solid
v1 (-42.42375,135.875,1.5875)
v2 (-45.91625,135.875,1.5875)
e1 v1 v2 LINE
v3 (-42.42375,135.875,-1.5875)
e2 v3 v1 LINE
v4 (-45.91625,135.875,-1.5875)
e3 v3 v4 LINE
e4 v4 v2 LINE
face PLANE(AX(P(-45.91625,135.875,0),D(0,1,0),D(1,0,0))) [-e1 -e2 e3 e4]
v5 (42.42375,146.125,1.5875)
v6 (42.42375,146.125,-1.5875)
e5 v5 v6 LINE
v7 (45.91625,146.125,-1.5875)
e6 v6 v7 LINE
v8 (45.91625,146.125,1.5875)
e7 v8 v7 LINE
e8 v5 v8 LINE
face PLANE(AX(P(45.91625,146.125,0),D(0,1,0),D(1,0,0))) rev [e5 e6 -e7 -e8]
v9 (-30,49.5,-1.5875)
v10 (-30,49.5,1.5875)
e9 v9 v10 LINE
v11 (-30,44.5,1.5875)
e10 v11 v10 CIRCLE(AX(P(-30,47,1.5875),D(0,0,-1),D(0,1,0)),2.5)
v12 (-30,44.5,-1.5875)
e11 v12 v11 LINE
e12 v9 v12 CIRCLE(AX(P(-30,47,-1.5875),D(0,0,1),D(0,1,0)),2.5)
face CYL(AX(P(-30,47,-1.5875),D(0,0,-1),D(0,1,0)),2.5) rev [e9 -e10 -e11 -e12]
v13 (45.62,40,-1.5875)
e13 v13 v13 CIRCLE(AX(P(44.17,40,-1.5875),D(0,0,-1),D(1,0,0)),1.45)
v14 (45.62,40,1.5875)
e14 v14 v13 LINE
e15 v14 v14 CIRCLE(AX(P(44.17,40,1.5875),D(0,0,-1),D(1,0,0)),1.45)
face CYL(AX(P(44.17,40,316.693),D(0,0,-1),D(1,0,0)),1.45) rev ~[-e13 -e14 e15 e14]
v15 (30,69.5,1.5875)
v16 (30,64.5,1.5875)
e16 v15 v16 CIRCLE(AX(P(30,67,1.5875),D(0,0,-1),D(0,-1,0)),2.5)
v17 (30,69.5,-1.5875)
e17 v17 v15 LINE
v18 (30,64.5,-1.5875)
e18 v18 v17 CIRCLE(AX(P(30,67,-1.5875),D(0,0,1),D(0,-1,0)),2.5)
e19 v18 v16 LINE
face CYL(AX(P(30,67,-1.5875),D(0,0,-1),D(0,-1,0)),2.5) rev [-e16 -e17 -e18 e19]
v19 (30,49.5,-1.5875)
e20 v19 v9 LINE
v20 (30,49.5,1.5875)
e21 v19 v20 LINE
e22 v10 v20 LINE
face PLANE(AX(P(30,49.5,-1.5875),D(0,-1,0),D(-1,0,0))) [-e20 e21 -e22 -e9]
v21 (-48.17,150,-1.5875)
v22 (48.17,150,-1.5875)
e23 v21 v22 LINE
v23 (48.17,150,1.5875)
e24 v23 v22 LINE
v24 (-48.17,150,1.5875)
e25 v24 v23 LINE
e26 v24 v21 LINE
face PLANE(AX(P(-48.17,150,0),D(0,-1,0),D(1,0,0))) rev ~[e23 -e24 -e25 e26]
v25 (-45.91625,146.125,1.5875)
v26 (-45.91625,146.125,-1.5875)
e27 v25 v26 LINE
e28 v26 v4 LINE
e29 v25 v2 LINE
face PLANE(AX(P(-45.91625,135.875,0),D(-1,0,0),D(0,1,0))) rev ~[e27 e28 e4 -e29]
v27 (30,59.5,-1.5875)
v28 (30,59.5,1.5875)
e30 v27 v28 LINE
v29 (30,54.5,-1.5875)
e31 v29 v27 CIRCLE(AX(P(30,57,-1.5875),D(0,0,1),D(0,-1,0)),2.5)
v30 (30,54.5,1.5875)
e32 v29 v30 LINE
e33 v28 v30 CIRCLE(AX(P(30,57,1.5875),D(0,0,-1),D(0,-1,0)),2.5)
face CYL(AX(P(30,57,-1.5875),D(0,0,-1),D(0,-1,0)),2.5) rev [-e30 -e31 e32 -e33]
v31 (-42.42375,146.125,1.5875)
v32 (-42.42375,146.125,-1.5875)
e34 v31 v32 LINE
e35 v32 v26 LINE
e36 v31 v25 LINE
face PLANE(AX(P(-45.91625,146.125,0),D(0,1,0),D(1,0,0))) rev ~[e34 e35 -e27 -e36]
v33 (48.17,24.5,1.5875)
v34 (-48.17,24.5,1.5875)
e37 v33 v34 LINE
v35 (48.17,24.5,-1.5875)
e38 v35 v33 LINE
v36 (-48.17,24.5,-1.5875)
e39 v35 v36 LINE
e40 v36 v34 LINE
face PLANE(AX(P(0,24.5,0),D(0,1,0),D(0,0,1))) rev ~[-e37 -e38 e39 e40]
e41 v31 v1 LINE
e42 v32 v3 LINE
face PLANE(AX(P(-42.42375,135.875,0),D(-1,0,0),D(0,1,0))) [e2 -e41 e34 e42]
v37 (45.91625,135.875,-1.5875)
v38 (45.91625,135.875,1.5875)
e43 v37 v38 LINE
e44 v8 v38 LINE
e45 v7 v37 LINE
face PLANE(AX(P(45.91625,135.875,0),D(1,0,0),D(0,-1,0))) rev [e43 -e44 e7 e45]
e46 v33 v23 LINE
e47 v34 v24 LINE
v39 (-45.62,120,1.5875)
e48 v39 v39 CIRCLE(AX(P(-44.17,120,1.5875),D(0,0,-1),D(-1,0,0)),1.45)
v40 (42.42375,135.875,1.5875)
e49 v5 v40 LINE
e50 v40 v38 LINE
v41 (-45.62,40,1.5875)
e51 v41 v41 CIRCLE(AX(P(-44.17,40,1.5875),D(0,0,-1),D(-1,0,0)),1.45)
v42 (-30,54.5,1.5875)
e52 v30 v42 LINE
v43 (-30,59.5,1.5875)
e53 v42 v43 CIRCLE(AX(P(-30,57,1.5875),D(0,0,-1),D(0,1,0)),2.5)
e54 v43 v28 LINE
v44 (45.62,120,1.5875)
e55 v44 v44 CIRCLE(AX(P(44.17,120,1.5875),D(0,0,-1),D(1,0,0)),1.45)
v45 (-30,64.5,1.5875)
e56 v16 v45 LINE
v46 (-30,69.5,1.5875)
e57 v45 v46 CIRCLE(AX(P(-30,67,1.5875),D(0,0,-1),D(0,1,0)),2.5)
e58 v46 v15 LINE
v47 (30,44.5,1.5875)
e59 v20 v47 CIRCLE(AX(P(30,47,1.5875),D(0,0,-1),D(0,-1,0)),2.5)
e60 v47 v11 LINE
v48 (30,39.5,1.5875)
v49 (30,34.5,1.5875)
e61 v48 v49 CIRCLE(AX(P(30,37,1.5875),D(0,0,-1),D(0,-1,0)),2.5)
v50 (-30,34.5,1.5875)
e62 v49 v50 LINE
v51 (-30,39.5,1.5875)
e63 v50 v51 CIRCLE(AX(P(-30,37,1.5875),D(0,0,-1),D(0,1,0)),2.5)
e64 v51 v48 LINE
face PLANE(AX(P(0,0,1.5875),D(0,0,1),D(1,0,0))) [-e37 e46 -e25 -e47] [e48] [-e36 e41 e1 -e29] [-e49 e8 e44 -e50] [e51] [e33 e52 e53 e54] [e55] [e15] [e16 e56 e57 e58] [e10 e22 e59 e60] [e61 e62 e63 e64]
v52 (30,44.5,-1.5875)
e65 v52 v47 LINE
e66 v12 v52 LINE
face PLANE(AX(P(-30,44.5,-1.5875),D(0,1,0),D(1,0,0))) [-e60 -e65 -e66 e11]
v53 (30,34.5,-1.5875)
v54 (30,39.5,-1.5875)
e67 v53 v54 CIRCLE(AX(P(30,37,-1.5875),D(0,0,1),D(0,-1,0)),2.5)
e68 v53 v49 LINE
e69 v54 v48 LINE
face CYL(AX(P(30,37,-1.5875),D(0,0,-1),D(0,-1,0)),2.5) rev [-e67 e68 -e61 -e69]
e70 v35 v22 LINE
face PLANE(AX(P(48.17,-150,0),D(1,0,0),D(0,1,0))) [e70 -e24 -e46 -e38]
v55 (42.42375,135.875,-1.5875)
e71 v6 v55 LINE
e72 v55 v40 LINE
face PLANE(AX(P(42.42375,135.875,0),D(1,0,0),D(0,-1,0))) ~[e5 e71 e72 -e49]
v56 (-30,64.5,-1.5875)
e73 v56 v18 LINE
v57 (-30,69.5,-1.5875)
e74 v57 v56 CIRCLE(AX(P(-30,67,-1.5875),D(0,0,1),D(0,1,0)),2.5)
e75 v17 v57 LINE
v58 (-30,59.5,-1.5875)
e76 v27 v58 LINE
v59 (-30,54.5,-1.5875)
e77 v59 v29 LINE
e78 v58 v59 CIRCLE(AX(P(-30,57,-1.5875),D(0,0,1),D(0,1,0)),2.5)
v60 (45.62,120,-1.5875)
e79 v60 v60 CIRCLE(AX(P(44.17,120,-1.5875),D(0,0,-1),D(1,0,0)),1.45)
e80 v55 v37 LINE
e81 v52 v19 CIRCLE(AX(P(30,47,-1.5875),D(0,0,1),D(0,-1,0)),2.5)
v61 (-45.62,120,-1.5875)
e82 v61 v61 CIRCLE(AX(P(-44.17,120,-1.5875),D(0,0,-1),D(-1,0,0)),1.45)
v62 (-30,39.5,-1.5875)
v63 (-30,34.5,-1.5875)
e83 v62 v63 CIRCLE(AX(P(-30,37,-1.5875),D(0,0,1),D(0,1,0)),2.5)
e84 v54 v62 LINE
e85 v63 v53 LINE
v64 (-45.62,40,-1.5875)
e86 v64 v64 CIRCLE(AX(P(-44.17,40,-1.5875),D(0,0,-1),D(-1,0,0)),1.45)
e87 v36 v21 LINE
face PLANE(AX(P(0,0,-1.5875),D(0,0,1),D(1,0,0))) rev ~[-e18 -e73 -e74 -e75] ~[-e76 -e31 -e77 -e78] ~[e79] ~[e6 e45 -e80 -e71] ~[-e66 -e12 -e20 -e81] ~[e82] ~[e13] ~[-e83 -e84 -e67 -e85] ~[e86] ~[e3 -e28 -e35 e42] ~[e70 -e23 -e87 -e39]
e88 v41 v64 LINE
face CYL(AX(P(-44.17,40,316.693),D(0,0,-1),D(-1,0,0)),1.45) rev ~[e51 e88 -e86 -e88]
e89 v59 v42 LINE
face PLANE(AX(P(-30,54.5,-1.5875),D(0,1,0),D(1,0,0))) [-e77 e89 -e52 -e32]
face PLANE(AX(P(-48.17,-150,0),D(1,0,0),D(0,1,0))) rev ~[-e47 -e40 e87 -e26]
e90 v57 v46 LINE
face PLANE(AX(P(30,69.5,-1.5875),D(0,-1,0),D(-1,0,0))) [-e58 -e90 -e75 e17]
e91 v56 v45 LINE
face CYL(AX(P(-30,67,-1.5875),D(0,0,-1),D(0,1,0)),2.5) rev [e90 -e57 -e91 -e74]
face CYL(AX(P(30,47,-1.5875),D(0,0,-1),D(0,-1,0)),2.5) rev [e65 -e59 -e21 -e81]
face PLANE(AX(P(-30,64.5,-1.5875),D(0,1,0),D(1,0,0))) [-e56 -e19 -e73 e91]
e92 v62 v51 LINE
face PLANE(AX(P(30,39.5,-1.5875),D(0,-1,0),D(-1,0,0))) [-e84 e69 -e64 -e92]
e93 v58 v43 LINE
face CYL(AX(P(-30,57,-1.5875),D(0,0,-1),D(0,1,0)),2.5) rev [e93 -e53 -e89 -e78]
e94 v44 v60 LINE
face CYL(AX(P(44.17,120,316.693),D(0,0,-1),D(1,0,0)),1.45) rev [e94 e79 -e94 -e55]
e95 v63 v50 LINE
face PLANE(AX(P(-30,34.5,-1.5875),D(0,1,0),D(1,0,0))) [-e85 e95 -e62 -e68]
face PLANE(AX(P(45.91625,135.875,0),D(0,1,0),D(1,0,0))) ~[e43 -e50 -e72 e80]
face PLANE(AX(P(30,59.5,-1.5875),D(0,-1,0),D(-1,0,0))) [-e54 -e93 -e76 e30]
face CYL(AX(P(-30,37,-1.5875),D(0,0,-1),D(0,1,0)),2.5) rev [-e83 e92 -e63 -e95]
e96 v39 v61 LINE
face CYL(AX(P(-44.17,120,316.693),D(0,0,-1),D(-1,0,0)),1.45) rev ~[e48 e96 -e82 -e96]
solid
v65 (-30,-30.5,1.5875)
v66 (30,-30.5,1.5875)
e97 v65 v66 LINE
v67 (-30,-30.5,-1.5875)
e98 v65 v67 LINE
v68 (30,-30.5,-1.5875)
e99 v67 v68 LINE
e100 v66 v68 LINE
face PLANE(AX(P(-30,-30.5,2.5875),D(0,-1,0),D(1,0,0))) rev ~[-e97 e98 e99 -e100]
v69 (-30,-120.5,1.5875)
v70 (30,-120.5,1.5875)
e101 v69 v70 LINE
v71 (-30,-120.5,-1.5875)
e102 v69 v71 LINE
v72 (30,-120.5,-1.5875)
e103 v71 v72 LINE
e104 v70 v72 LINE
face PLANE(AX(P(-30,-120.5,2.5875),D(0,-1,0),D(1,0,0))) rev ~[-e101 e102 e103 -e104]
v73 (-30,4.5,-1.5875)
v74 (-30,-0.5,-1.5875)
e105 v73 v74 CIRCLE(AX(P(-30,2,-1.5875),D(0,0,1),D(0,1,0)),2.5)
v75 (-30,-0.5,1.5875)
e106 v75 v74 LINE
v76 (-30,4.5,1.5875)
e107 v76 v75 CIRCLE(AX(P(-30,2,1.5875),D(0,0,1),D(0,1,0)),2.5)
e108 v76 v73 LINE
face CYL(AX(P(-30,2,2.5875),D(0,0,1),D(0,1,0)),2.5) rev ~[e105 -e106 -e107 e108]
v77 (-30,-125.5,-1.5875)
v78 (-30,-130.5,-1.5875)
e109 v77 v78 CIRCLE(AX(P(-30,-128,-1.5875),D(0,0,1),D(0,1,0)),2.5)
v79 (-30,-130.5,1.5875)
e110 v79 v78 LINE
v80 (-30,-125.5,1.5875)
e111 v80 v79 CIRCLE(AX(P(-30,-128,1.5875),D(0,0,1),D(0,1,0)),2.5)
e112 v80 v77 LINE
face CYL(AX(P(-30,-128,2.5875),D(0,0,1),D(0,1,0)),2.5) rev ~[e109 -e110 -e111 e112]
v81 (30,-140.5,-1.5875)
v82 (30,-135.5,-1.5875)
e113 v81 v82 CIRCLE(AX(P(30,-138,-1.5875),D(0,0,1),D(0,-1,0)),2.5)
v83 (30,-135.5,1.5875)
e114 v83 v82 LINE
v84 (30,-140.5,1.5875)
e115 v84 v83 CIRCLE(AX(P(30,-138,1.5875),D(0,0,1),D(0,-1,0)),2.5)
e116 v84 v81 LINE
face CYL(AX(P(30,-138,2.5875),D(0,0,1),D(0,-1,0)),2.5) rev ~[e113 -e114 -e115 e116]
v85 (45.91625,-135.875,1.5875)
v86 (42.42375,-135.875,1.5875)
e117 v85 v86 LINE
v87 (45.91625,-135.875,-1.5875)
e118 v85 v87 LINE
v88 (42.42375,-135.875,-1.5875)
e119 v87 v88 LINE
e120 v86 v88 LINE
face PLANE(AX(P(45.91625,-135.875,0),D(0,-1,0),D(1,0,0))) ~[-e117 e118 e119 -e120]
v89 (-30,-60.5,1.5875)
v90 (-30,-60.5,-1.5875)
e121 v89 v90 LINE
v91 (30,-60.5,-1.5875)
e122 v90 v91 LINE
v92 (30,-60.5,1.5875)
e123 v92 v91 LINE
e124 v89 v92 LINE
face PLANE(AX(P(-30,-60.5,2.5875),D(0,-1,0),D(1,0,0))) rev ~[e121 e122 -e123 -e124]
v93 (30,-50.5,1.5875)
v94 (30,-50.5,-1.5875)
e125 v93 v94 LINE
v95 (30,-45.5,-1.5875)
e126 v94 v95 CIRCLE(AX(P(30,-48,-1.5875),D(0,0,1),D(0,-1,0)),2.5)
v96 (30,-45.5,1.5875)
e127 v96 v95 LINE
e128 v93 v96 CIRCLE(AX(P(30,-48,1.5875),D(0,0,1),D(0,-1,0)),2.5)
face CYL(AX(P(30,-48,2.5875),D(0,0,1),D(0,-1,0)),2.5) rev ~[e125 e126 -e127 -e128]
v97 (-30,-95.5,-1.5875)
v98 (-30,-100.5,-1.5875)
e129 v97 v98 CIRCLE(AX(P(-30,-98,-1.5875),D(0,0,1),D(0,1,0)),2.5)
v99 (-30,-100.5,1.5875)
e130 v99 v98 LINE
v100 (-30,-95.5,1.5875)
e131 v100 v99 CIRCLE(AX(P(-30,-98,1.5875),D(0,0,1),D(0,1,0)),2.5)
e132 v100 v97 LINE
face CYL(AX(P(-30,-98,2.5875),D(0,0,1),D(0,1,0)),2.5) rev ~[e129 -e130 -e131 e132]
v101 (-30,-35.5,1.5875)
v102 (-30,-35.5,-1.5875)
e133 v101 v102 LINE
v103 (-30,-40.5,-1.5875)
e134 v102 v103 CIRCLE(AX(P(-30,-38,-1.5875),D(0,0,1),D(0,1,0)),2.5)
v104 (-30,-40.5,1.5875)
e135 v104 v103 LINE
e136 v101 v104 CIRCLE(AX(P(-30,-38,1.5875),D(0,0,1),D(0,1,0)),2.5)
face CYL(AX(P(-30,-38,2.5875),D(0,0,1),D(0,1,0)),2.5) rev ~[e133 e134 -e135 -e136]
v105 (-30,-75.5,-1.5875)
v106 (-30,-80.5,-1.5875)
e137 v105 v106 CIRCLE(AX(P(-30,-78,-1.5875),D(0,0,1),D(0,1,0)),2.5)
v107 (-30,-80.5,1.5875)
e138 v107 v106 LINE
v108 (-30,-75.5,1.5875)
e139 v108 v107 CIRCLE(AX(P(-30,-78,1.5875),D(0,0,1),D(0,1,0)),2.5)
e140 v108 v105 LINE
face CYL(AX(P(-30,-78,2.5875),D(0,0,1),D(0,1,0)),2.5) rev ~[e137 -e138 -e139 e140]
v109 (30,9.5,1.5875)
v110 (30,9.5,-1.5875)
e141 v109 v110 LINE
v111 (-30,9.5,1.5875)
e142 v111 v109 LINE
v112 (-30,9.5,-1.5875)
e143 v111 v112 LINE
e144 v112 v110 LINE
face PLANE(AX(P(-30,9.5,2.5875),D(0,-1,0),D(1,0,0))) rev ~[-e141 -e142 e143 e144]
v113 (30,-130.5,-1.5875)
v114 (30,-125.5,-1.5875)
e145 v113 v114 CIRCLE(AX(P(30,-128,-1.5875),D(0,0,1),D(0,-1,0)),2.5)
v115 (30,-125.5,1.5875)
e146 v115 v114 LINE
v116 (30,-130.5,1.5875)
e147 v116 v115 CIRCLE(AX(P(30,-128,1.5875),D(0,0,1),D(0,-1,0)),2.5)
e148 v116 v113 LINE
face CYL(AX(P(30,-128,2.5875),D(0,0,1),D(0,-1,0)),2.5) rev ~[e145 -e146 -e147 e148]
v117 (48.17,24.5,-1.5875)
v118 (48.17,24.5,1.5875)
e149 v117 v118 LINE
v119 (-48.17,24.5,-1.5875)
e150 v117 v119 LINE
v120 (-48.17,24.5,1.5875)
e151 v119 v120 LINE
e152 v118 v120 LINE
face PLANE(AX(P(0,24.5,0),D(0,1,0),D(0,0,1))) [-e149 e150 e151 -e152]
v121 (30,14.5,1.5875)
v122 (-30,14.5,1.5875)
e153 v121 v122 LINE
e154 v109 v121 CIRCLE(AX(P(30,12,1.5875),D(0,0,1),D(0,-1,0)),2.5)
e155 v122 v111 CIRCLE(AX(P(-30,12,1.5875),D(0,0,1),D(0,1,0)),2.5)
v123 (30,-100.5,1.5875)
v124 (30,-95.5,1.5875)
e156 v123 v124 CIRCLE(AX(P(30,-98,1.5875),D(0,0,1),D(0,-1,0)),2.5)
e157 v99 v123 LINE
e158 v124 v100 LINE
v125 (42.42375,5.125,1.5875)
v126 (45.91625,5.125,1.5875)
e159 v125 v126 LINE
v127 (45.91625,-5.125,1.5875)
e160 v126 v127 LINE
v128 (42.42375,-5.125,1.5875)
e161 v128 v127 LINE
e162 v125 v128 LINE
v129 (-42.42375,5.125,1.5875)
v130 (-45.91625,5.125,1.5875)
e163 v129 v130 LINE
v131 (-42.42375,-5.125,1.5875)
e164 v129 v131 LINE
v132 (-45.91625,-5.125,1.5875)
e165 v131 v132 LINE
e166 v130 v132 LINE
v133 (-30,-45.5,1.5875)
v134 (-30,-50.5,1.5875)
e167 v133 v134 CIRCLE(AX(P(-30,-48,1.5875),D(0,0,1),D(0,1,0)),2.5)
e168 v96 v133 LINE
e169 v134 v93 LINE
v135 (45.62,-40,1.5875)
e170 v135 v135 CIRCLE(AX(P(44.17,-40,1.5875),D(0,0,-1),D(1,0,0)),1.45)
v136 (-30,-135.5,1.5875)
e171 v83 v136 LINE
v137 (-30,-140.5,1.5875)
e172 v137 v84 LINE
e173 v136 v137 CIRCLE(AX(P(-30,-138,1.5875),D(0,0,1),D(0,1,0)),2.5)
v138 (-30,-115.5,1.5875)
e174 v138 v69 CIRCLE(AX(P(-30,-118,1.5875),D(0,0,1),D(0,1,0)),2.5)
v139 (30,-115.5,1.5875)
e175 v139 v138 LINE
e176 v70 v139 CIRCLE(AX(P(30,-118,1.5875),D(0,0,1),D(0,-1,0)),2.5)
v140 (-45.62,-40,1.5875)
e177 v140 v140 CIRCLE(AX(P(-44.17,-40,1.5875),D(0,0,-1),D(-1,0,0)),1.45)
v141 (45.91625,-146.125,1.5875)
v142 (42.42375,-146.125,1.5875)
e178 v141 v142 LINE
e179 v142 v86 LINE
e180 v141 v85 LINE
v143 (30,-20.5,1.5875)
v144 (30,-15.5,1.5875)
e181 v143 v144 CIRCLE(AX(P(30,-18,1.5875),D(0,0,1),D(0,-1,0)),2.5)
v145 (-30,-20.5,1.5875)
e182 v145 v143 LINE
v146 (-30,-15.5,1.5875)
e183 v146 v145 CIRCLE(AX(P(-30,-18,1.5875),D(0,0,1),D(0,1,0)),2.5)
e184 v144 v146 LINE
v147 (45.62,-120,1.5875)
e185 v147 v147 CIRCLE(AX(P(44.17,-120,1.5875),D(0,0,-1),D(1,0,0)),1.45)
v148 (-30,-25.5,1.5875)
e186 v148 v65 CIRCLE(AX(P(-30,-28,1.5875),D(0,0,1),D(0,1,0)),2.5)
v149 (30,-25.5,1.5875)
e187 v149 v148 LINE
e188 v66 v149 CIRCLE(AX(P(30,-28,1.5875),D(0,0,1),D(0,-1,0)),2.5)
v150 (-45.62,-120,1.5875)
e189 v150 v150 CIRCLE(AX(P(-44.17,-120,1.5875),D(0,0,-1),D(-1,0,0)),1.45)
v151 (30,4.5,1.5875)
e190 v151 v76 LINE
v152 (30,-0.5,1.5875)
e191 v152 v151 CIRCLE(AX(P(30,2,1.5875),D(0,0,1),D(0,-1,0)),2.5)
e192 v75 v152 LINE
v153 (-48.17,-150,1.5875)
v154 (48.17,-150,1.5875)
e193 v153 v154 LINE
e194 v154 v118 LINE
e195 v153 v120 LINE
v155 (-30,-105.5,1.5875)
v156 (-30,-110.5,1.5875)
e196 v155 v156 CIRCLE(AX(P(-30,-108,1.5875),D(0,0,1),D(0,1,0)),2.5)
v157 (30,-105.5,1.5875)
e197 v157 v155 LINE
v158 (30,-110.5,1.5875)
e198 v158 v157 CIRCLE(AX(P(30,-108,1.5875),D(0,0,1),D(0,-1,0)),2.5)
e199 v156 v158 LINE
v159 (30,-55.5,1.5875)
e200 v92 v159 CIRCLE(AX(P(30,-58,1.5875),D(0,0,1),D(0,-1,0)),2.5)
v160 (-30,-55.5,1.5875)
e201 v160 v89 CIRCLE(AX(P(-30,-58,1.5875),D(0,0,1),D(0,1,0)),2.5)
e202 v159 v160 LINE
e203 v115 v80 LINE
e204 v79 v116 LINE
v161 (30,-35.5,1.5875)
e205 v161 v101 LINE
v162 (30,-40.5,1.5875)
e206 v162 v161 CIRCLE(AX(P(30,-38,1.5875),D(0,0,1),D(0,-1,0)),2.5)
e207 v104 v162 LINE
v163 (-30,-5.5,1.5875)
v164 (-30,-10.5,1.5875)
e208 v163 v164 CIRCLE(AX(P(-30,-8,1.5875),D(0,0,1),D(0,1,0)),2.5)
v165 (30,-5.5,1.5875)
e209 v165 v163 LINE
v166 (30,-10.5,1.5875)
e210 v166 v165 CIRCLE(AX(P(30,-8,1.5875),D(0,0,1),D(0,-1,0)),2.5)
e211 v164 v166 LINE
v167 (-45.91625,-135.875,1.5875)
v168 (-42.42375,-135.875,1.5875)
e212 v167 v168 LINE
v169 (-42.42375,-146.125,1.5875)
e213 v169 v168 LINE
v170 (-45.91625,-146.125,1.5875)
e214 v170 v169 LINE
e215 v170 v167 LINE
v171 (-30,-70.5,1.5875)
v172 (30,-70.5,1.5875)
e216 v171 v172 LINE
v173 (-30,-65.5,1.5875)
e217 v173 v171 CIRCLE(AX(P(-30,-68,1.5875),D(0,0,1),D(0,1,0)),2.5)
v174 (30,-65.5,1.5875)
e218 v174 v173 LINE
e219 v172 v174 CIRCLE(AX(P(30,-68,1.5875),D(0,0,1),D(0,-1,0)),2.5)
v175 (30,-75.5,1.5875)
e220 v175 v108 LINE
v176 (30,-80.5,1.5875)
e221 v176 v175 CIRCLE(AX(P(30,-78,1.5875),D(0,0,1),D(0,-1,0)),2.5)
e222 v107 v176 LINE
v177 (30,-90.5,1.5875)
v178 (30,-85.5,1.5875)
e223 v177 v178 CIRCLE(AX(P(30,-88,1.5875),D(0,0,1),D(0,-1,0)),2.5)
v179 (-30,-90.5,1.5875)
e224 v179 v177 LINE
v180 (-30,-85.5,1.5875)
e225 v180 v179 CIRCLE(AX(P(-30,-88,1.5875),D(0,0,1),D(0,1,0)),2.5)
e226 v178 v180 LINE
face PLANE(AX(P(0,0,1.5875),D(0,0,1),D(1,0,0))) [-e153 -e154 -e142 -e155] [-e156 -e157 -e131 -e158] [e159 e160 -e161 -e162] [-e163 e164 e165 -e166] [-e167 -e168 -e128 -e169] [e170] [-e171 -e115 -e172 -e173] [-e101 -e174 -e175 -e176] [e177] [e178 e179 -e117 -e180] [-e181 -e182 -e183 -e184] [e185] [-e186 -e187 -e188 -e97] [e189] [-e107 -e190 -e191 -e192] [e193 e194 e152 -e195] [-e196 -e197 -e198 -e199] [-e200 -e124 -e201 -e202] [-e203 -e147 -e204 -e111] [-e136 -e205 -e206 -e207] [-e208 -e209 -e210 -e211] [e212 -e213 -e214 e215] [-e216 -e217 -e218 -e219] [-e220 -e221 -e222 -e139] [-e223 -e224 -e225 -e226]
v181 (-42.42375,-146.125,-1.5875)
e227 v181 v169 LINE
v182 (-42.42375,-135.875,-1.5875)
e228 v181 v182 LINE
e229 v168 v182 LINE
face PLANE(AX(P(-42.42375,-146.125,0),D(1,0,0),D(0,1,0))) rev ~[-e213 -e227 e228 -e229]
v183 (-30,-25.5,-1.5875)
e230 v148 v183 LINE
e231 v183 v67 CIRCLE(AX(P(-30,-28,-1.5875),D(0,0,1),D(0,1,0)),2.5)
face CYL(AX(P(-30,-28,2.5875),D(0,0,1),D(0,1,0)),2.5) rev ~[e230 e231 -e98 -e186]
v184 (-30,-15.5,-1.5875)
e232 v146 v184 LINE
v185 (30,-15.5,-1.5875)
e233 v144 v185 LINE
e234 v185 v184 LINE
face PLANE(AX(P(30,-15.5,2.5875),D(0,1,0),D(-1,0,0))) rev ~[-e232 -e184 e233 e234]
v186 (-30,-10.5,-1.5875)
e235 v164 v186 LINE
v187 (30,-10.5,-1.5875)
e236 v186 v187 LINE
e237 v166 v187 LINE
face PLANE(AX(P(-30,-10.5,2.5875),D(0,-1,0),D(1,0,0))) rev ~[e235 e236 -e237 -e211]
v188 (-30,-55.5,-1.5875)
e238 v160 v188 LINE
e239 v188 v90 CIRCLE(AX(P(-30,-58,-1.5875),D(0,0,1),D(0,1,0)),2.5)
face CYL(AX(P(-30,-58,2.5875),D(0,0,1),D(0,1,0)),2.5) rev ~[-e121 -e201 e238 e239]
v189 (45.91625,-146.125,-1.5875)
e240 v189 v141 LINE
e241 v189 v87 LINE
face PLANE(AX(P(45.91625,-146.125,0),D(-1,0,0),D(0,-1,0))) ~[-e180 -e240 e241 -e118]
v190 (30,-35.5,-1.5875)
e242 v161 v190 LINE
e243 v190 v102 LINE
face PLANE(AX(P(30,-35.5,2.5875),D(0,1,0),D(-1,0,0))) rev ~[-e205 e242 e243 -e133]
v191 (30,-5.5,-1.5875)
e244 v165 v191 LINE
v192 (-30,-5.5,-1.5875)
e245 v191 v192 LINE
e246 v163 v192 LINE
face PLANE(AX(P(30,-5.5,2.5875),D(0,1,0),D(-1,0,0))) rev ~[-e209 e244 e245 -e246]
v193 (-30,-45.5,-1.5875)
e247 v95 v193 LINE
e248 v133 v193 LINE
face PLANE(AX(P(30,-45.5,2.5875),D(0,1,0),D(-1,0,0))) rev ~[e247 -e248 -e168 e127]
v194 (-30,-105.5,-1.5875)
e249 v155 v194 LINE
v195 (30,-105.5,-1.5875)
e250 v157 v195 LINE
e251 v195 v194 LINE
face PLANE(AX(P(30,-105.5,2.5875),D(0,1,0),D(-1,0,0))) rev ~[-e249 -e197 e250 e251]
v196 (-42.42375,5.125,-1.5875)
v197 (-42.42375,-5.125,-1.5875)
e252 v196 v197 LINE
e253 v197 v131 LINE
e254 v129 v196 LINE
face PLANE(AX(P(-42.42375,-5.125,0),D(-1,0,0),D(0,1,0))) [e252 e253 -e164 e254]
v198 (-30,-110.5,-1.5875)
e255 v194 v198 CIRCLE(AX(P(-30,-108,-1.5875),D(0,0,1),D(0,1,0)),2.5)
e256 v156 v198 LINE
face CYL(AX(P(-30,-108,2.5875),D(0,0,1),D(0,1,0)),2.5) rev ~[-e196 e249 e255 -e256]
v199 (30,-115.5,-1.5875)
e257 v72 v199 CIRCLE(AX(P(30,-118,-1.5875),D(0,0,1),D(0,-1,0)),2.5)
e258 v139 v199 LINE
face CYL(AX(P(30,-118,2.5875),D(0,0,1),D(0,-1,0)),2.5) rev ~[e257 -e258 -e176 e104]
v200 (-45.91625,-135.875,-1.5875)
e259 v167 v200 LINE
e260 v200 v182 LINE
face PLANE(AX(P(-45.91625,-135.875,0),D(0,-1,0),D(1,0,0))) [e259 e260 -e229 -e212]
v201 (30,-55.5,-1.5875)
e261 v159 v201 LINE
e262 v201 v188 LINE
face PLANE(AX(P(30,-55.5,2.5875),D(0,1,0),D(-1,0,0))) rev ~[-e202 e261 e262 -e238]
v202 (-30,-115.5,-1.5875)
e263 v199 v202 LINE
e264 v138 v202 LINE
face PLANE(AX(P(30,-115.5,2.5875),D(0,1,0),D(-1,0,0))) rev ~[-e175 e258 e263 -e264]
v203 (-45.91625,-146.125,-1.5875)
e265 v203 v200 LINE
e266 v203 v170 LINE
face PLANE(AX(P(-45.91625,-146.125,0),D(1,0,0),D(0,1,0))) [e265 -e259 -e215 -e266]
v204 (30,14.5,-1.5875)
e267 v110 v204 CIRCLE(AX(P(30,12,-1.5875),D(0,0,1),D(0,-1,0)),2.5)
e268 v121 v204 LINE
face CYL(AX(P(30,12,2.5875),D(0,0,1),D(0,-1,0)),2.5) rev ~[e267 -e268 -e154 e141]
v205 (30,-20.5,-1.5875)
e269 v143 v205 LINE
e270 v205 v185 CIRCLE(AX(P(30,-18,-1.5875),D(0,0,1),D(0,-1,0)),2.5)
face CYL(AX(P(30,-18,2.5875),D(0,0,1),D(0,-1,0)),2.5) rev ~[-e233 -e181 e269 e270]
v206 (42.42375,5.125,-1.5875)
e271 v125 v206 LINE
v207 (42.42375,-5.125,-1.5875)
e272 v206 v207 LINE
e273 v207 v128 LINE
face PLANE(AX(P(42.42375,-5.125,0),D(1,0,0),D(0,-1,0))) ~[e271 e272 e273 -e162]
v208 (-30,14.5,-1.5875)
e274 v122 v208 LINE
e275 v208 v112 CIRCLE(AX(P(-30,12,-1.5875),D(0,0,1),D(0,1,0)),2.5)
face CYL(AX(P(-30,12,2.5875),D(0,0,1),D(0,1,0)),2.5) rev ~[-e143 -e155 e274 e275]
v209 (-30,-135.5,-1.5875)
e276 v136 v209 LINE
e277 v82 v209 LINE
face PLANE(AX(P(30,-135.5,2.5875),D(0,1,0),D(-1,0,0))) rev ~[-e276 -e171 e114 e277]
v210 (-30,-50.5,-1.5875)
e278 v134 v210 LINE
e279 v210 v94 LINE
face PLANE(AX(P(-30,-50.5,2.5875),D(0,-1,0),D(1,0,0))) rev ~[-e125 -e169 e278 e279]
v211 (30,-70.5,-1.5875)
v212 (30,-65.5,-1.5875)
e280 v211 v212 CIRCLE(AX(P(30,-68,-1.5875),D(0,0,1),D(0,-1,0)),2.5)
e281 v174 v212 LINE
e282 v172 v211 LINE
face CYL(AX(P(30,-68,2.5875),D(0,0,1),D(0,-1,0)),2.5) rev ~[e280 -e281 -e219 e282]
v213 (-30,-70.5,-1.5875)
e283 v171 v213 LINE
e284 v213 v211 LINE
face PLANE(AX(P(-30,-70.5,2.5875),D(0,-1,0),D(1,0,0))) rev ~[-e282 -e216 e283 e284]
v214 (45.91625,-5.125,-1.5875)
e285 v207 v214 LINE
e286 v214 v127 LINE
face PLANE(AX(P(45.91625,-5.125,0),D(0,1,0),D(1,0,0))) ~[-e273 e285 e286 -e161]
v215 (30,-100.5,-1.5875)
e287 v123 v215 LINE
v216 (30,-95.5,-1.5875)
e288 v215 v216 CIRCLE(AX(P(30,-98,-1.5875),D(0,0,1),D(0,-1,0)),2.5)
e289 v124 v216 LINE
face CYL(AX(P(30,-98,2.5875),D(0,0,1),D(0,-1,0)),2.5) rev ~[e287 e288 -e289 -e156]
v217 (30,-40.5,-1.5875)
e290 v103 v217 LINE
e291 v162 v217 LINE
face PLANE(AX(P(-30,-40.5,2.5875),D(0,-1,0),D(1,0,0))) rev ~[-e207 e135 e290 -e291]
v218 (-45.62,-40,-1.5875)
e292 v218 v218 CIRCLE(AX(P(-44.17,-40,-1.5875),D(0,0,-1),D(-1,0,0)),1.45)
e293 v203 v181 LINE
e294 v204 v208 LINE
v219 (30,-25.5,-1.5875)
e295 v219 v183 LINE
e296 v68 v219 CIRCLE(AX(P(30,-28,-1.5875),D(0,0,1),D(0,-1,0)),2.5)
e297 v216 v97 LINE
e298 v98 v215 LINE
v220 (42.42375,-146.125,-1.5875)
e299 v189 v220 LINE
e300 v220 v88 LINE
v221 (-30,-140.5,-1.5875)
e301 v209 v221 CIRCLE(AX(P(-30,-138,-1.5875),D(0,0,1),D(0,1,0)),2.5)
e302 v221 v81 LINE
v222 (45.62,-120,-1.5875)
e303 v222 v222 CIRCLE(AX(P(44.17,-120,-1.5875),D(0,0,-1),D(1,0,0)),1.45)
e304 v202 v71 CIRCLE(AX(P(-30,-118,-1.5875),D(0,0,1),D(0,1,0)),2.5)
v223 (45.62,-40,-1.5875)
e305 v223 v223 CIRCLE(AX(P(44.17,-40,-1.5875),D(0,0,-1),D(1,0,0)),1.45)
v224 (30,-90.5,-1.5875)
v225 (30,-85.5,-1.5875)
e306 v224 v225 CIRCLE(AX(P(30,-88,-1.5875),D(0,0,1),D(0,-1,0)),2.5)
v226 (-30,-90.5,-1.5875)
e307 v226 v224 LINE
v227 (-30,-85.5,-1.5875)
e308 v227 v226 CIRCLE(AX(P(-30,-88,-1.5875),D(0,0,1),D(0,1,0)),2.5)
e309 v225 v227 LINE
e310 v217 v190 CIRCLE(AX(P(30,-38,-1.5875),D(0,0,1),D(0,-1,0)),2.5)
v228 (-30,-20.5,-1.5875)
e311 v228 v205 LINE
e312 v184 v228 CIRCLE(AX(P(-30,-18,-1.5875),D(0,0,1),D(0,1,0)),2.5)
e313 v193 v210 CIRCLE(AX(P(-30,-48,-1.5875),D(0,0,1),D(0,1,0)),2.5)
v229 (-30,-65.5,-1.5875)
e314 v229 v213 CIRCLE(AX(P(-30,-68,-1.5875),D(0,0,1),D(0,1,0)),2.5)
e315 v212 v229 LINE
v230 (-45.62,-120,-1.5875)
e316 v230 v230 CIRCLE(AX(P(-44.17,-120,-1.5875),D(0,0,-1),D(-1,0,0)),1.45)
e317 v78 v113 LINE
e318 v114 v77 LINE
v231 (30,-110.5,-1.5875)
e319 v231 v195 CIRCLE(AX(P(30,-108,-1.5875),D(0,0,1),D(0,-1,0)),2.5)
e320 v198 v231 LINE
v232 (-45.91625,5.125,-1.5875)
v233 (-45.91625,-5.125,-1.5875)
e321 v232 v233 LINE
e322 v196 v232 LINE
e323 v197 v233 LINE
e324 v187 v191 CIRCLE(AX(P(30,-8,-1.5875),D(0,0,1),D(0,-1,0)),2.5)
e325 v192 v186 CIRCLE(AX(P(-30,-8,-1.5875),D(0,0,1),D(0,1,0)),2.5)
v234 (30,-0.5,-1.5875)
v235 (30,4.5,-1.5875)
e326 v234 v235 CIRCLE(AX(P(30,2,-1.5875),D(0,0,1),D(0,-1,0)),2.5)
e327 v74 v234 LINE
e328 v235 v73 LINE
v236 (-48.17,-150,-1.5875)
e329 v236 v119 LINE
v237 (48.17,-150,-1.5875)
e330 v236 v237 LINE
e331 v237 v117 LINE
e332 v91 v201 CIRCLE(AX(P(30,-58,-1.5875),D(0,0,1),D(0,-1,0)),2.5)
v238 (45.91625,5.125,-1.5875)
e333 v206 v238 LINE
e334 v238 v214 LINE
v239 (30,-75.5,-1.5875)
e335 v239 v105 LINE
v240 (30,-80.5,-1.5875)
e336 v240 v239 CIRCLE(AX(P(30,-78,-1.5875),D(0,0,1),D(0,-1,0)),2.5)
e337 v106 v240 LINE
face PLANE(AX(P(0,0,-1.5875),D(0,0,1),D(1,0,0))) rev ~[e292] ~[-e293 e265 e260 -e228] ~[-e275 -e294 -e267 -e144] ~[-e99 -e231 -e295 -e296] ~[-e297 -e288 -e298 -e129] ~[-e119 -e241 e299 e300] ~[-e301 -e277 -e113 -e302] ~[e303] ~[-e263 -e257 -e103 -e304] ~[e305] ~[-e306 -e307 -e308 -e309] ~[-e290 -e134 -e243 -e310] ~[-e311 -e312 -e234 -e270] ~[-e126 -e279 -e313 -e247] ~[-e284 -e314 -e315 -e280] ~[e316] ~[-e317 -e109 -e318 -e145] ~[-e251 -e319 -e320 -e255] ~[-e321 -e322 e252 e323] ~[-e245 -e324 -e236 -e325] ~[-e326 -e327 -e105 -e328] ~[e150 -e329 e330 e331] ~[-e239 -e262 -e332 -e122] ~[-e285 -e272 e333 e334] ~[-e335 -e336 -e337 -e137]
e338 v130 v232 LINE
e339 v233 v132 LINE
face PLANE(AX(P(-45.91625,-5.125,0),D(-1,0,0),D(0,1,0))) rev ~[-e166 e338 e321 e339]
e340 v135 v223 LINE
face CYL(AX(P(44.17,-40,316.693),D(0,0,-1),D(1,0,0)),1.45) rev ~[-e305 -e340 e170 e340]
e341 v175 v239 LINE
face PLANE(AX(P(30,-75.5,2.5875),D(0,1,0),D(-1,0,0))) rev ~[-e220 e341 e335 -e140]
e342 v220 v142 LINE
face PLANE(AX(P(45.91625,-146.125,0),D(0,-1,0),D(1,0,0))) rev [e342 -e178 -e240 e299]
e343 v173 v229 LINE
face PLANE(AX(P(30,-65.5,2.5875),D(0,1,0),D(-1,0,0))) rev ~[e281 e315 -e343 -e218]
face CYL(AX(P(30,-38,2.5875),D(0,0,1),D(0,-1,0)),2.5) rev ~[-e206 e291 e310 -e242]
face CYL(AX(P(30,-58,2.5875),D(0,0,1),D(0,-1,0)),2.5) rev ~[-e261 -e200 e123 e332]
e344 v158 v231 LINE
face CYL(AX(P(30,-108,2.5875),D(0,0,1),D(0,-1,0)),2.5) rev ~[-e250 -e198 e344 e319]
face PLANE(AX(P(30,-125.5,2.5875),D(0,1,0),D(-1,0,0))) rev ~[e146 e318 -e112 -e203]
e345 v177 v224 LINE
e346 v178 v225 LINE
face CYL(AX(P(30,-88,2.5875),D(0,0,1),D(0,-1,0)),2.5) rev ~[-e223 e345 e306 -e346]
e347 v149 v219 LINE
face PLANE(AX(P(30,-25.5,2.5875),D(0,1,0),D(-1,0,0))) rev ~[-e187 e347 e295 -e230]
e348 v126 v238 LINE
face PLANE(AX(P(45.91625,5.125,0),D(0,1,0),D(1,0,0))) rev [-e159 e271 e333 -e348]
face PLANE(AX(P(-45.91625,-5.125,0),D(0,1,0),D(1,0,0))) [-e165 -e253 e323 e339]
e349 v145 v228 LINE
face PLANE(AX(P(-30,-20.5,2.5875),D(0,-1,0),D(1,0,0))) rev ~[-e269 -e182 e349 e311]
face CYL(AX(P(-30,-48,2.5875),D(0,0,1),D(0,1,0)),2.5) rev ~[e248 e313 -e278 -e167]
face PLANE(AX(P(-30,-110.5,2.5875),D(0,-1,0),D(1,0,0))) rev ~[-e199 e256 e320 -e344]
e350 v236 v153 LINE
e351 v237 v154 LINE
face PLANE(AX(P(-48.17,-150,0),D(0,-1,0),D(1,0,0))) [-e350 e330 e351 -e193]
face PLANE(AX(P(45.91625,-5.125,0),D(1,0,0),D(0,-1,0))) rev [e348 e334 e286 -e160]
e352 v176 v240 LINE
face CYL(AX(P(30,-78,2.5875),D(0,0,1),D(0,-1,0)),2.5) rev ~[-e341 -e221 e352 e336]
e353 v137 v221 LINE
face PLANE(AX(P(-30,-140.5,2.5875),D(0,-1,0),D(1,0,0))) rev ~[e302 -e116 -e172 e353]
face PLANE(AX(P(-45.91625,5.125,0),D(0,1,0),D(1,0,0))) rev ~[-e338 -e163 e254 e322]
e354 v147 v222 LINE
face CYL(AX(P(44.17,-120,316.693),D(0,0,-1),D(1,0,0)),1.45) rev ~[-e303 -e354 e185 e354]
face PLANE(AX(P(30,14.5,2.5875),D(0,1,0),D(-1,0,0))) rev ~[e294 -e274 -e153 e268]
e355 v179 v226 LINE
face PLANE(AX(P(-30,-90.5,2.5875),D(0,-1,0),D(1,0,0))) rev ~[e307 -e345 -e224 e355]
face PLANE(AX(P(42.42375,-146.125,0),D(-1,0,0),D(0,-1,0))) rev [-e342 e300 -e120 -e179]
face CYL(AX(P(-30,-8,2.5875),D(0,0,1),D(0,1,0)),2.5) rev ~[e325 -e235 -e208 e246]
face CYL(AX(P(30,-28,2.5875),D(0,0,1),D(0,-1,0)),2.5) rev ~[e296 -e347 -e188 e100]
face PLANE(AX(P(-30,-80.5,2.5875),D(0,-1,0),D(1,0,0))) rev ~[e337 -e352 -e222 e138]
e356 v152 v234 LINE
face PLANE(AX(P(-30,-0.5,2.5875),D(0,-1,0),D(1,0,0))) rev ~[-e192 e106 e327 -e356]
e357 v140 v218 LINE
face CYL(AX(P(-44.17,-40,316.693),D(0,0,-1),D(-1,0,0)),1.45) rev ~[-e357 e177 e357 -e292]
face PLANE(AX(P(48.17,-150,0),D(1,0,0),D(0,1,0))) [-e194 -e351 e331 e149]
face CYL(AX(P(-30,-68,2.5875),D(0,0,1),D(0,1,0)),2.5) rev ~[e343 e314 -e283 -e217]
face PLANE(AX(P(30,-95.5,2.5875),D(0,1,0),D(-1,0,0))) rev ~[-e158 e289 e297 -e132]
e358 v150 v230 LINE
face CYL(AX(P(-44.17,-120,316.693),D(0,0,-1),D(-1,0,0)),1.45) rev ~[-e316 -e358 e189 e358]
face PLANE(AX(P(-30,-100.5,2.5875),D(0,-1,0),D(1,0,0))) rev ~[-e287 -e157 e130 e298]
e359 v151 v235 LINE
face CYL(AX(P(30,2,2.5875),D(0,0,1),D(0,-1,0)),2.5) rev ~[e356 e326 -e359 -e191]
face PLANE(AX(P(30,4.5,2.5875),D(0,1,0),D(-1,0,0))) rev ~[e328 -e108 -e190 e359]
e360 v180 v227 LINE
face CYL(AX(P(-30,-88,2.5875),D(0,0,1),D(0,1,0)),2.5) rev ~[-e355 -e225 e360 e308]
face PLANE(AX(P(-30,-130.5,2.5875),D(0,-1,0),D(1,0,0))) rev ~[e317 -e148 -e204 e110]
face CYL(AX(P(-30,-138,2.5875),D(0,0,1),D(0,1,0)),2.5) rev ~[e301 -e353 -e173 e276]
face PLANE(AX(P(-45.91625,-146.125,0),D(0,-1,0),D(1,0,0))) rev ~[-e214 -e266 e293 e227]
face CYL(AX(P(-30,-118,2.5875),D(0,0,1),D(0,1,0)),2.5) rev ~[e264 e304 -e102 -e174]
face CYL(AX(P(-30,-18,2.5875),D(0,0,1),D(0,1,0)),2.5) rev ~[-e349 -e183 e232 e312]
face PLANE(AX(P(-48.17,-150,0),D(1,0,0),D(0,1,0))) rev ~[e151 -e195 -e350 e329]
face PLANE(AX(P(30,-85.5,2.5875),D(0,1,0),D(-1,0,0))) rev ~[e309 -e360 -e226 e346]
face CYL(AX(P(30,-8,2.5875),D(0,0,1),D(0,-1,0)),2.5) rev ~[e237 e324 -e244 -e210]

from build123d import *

# Parameters (mm, degrees)
SKETCH1_W              = 96.34
SKETCH1_H              = 300
BOSS_EXTRUDE1_DEPTH    = 1.5875
SKETCH1_3_W            = 3.4925
SKETCH1_3_H            = 10.25
CUT_EXTRUDE1_DEPTH     = 2.5875
M2_5_CLEARANCE_HOLE1_D = 2.9
LPATTERN1_COUNT        = 4
LPATTERN1_PITCH        = 80
MIRROR1_COPY_1_D       = 2.9
MIRROR1_COPY_2_D       = 2.9
MIRROR1_COPY_3_D       = 2.9
CUT_EXTRUDE2_START     = -4.175
CUT_EXTRUDE2_DEPTH     = 5.175
LPATTERN2_COUNT        = 16
LPATTERN2_PITCH        = 10
CUT_EXTRUDE4_DEPTH     = 10
LPATTERN3_COUNT        = 4
LPATTERN3_PITCH        = 10


with BuildPart() as part:
    # Sketch1 → Boss-Extrude1 (new body, symmetric)
    with BuildSketch(Plane.XY):
        Rectangle(SKETCH1_W, SKETCH1_H)
    extrude(amount=BOSS_EXTRUDE1_DEPTH, both=True)

    # Sketch1_3 → Cut-Extrude1 (cut, symmetric)
    with BuildSketch(Plane.XY):
        with Locations((-44.17, 141)):
            Rectangle(SKETCH1_3_W, SKETCH1_3_H)
        with Locations((-44.17, 0)):
            Rectangle(SKETCH1_3_W, SKETCH1_3_H)
        with Locations((-44.17, -141)):
            Rectangle(SKETCH1_3_W, SKETCH1_3_H)
    cut_extrude1 = extrude(amount=CUT_EXTRUDE1_DEPTH, both=True, mode=Mode.SUBTRACT)

    # M2.5 Clearance Hole1 (through all)
    with Locations(Plane.XY.offset(1.5875)):
        with Locations((-44.17, 120)):
            m2_5_clearance_hole1 = Hole(M2_5_CLEARANCE_HOLE1_D / 2)

    # LPattern1: M2.5 Clearance Hole1 ×4
    with Locations(*[(0, -i * LPATTERN1_PITCH, 0) for i in range(1, LPATTERN1_COUNT)]):
        add(m2_5_clearance_hole1, mode=Mode.SUBTRACT)

    # Mirror1: Cut-Extrude1, M2.5 Clearance Hole1 across plane
    add(cut_extrude1.mirror(Plane(origin=(0, 0, 0), x_dir=(0, 0, 1), z_dir=(1, 0, 0))), mode=Mode.SUBTRACT)
    add(m2_5_clearance_hole1.mirror(Plane(origin=(0, 0, 0), x_dir=(0, 0, 1), z_dir=(1, 0, 0))), mode=Mode.SUBTRACT)

    # Mirror1 copy 1 (through all)
    with Locations(Plane(origin=(0, -80, 1.5875), x_dir=(-1, 0, 0), z_dir=(0, 0, 1))):
        with Locations((-44.17, -120)):
            Hole(MIRROR1_COPY_1_D / 2)

    # Mirror1 copy 2 (through all)
    with Locations(Plane(origin=(0, -160, 1.5875), x_dir=(-1, 0, 0), z_dir=(0, 0, 1))):
        with Locations((-44.17, -120)):
            Hole(MIRROR1_COPY_2_D / 2)

    # Mirror1 copy 3 (through all)
    with Locations(Plane(origin=(0, -240, 1.5875), x_dir=(-1, 0, 0), z_dir=(0, 0, 1))):
        with Locations((-44.17, -120)):
            Hole(MIRROR1_COPY_3_D / 2)

    # Sketch5 → Cut-Extrude2 (cut)
    with BuildSketch(Plane(origin=(0, 0, -1.5875), x_dir=(-1, 0, 0), z_dir=(0, 0, -1)).offset(CUT_EXTRUDE2_START)):
        with BuildLine():
            Line((-30, 14.5), (30, 14.5))
            ThreePointArc((30, 14.5), (32.5, 12), (30, 9.5))
            Line((30, 9.5), (-30, 9.5))
            ThreePointArc((-30, 9.5), (-32.5, 12), (-30, 14.5))
        make_face()
    cut_extrude2 = extrude(amount=CUT_EXTRUDE2_DEPTH, mode=Mode.SUBTRACT)

    # LPattern2: Cut-Extrude2 ×16
    with Locations(*[(0, -i * LPATTERN2_PITCH, 0) for i in range(1, LPATTERN2_COUNT)]):
        add(cut_extrude2, mode=Mode.SUBTRACT)

    # Sketch5_4 → Cut-Extrude4 (cut)
    with BuildSketch(Plane(origin=(0, 0, -1.5875), x_dir=(-1, 0, 0), z_dir=(0, 0, -1))):
        with BuildLine():
            Line((-30, 39.5), (30, 39.5))
            ThreePointArc((30, 39.5), (32.5, 37), (30, 34.5))
            Line((30, 34.5), (-30, 34.5))
            ThreePointArc((-30, 34.5), (-32.5, 37), (-30, 39.5))
        make_face()
    cut_extrude4 = extrude(amount=-CUT_EXTRUDE4_DEPTH, mode=Mode.SUBTRACT)

    # LPattern3: Cut-Extrude4 ×4
    with Locations(*[(0, i * LPATTERN3_PITCH, 0) for i in range(1, LPATTERN3_COUNT)]):
        add(cut_extrude4, mode=Mode.SUBTRACT)


with BuildPart() as body_2:
    # Split2: the piece on the far side of the plane
    add(part.part)
    split(bisect_by=Plane.ZX.offset(24.5), keep=Keep.BOTTOM)


with BuildPart() as part_1:
    add(part.part)

    # Split2
    split(bisect_by=Plane.ZX.offset(24.5), keep=Keep.TOP)


solid = Compound([body_2.part, part_1.part])
